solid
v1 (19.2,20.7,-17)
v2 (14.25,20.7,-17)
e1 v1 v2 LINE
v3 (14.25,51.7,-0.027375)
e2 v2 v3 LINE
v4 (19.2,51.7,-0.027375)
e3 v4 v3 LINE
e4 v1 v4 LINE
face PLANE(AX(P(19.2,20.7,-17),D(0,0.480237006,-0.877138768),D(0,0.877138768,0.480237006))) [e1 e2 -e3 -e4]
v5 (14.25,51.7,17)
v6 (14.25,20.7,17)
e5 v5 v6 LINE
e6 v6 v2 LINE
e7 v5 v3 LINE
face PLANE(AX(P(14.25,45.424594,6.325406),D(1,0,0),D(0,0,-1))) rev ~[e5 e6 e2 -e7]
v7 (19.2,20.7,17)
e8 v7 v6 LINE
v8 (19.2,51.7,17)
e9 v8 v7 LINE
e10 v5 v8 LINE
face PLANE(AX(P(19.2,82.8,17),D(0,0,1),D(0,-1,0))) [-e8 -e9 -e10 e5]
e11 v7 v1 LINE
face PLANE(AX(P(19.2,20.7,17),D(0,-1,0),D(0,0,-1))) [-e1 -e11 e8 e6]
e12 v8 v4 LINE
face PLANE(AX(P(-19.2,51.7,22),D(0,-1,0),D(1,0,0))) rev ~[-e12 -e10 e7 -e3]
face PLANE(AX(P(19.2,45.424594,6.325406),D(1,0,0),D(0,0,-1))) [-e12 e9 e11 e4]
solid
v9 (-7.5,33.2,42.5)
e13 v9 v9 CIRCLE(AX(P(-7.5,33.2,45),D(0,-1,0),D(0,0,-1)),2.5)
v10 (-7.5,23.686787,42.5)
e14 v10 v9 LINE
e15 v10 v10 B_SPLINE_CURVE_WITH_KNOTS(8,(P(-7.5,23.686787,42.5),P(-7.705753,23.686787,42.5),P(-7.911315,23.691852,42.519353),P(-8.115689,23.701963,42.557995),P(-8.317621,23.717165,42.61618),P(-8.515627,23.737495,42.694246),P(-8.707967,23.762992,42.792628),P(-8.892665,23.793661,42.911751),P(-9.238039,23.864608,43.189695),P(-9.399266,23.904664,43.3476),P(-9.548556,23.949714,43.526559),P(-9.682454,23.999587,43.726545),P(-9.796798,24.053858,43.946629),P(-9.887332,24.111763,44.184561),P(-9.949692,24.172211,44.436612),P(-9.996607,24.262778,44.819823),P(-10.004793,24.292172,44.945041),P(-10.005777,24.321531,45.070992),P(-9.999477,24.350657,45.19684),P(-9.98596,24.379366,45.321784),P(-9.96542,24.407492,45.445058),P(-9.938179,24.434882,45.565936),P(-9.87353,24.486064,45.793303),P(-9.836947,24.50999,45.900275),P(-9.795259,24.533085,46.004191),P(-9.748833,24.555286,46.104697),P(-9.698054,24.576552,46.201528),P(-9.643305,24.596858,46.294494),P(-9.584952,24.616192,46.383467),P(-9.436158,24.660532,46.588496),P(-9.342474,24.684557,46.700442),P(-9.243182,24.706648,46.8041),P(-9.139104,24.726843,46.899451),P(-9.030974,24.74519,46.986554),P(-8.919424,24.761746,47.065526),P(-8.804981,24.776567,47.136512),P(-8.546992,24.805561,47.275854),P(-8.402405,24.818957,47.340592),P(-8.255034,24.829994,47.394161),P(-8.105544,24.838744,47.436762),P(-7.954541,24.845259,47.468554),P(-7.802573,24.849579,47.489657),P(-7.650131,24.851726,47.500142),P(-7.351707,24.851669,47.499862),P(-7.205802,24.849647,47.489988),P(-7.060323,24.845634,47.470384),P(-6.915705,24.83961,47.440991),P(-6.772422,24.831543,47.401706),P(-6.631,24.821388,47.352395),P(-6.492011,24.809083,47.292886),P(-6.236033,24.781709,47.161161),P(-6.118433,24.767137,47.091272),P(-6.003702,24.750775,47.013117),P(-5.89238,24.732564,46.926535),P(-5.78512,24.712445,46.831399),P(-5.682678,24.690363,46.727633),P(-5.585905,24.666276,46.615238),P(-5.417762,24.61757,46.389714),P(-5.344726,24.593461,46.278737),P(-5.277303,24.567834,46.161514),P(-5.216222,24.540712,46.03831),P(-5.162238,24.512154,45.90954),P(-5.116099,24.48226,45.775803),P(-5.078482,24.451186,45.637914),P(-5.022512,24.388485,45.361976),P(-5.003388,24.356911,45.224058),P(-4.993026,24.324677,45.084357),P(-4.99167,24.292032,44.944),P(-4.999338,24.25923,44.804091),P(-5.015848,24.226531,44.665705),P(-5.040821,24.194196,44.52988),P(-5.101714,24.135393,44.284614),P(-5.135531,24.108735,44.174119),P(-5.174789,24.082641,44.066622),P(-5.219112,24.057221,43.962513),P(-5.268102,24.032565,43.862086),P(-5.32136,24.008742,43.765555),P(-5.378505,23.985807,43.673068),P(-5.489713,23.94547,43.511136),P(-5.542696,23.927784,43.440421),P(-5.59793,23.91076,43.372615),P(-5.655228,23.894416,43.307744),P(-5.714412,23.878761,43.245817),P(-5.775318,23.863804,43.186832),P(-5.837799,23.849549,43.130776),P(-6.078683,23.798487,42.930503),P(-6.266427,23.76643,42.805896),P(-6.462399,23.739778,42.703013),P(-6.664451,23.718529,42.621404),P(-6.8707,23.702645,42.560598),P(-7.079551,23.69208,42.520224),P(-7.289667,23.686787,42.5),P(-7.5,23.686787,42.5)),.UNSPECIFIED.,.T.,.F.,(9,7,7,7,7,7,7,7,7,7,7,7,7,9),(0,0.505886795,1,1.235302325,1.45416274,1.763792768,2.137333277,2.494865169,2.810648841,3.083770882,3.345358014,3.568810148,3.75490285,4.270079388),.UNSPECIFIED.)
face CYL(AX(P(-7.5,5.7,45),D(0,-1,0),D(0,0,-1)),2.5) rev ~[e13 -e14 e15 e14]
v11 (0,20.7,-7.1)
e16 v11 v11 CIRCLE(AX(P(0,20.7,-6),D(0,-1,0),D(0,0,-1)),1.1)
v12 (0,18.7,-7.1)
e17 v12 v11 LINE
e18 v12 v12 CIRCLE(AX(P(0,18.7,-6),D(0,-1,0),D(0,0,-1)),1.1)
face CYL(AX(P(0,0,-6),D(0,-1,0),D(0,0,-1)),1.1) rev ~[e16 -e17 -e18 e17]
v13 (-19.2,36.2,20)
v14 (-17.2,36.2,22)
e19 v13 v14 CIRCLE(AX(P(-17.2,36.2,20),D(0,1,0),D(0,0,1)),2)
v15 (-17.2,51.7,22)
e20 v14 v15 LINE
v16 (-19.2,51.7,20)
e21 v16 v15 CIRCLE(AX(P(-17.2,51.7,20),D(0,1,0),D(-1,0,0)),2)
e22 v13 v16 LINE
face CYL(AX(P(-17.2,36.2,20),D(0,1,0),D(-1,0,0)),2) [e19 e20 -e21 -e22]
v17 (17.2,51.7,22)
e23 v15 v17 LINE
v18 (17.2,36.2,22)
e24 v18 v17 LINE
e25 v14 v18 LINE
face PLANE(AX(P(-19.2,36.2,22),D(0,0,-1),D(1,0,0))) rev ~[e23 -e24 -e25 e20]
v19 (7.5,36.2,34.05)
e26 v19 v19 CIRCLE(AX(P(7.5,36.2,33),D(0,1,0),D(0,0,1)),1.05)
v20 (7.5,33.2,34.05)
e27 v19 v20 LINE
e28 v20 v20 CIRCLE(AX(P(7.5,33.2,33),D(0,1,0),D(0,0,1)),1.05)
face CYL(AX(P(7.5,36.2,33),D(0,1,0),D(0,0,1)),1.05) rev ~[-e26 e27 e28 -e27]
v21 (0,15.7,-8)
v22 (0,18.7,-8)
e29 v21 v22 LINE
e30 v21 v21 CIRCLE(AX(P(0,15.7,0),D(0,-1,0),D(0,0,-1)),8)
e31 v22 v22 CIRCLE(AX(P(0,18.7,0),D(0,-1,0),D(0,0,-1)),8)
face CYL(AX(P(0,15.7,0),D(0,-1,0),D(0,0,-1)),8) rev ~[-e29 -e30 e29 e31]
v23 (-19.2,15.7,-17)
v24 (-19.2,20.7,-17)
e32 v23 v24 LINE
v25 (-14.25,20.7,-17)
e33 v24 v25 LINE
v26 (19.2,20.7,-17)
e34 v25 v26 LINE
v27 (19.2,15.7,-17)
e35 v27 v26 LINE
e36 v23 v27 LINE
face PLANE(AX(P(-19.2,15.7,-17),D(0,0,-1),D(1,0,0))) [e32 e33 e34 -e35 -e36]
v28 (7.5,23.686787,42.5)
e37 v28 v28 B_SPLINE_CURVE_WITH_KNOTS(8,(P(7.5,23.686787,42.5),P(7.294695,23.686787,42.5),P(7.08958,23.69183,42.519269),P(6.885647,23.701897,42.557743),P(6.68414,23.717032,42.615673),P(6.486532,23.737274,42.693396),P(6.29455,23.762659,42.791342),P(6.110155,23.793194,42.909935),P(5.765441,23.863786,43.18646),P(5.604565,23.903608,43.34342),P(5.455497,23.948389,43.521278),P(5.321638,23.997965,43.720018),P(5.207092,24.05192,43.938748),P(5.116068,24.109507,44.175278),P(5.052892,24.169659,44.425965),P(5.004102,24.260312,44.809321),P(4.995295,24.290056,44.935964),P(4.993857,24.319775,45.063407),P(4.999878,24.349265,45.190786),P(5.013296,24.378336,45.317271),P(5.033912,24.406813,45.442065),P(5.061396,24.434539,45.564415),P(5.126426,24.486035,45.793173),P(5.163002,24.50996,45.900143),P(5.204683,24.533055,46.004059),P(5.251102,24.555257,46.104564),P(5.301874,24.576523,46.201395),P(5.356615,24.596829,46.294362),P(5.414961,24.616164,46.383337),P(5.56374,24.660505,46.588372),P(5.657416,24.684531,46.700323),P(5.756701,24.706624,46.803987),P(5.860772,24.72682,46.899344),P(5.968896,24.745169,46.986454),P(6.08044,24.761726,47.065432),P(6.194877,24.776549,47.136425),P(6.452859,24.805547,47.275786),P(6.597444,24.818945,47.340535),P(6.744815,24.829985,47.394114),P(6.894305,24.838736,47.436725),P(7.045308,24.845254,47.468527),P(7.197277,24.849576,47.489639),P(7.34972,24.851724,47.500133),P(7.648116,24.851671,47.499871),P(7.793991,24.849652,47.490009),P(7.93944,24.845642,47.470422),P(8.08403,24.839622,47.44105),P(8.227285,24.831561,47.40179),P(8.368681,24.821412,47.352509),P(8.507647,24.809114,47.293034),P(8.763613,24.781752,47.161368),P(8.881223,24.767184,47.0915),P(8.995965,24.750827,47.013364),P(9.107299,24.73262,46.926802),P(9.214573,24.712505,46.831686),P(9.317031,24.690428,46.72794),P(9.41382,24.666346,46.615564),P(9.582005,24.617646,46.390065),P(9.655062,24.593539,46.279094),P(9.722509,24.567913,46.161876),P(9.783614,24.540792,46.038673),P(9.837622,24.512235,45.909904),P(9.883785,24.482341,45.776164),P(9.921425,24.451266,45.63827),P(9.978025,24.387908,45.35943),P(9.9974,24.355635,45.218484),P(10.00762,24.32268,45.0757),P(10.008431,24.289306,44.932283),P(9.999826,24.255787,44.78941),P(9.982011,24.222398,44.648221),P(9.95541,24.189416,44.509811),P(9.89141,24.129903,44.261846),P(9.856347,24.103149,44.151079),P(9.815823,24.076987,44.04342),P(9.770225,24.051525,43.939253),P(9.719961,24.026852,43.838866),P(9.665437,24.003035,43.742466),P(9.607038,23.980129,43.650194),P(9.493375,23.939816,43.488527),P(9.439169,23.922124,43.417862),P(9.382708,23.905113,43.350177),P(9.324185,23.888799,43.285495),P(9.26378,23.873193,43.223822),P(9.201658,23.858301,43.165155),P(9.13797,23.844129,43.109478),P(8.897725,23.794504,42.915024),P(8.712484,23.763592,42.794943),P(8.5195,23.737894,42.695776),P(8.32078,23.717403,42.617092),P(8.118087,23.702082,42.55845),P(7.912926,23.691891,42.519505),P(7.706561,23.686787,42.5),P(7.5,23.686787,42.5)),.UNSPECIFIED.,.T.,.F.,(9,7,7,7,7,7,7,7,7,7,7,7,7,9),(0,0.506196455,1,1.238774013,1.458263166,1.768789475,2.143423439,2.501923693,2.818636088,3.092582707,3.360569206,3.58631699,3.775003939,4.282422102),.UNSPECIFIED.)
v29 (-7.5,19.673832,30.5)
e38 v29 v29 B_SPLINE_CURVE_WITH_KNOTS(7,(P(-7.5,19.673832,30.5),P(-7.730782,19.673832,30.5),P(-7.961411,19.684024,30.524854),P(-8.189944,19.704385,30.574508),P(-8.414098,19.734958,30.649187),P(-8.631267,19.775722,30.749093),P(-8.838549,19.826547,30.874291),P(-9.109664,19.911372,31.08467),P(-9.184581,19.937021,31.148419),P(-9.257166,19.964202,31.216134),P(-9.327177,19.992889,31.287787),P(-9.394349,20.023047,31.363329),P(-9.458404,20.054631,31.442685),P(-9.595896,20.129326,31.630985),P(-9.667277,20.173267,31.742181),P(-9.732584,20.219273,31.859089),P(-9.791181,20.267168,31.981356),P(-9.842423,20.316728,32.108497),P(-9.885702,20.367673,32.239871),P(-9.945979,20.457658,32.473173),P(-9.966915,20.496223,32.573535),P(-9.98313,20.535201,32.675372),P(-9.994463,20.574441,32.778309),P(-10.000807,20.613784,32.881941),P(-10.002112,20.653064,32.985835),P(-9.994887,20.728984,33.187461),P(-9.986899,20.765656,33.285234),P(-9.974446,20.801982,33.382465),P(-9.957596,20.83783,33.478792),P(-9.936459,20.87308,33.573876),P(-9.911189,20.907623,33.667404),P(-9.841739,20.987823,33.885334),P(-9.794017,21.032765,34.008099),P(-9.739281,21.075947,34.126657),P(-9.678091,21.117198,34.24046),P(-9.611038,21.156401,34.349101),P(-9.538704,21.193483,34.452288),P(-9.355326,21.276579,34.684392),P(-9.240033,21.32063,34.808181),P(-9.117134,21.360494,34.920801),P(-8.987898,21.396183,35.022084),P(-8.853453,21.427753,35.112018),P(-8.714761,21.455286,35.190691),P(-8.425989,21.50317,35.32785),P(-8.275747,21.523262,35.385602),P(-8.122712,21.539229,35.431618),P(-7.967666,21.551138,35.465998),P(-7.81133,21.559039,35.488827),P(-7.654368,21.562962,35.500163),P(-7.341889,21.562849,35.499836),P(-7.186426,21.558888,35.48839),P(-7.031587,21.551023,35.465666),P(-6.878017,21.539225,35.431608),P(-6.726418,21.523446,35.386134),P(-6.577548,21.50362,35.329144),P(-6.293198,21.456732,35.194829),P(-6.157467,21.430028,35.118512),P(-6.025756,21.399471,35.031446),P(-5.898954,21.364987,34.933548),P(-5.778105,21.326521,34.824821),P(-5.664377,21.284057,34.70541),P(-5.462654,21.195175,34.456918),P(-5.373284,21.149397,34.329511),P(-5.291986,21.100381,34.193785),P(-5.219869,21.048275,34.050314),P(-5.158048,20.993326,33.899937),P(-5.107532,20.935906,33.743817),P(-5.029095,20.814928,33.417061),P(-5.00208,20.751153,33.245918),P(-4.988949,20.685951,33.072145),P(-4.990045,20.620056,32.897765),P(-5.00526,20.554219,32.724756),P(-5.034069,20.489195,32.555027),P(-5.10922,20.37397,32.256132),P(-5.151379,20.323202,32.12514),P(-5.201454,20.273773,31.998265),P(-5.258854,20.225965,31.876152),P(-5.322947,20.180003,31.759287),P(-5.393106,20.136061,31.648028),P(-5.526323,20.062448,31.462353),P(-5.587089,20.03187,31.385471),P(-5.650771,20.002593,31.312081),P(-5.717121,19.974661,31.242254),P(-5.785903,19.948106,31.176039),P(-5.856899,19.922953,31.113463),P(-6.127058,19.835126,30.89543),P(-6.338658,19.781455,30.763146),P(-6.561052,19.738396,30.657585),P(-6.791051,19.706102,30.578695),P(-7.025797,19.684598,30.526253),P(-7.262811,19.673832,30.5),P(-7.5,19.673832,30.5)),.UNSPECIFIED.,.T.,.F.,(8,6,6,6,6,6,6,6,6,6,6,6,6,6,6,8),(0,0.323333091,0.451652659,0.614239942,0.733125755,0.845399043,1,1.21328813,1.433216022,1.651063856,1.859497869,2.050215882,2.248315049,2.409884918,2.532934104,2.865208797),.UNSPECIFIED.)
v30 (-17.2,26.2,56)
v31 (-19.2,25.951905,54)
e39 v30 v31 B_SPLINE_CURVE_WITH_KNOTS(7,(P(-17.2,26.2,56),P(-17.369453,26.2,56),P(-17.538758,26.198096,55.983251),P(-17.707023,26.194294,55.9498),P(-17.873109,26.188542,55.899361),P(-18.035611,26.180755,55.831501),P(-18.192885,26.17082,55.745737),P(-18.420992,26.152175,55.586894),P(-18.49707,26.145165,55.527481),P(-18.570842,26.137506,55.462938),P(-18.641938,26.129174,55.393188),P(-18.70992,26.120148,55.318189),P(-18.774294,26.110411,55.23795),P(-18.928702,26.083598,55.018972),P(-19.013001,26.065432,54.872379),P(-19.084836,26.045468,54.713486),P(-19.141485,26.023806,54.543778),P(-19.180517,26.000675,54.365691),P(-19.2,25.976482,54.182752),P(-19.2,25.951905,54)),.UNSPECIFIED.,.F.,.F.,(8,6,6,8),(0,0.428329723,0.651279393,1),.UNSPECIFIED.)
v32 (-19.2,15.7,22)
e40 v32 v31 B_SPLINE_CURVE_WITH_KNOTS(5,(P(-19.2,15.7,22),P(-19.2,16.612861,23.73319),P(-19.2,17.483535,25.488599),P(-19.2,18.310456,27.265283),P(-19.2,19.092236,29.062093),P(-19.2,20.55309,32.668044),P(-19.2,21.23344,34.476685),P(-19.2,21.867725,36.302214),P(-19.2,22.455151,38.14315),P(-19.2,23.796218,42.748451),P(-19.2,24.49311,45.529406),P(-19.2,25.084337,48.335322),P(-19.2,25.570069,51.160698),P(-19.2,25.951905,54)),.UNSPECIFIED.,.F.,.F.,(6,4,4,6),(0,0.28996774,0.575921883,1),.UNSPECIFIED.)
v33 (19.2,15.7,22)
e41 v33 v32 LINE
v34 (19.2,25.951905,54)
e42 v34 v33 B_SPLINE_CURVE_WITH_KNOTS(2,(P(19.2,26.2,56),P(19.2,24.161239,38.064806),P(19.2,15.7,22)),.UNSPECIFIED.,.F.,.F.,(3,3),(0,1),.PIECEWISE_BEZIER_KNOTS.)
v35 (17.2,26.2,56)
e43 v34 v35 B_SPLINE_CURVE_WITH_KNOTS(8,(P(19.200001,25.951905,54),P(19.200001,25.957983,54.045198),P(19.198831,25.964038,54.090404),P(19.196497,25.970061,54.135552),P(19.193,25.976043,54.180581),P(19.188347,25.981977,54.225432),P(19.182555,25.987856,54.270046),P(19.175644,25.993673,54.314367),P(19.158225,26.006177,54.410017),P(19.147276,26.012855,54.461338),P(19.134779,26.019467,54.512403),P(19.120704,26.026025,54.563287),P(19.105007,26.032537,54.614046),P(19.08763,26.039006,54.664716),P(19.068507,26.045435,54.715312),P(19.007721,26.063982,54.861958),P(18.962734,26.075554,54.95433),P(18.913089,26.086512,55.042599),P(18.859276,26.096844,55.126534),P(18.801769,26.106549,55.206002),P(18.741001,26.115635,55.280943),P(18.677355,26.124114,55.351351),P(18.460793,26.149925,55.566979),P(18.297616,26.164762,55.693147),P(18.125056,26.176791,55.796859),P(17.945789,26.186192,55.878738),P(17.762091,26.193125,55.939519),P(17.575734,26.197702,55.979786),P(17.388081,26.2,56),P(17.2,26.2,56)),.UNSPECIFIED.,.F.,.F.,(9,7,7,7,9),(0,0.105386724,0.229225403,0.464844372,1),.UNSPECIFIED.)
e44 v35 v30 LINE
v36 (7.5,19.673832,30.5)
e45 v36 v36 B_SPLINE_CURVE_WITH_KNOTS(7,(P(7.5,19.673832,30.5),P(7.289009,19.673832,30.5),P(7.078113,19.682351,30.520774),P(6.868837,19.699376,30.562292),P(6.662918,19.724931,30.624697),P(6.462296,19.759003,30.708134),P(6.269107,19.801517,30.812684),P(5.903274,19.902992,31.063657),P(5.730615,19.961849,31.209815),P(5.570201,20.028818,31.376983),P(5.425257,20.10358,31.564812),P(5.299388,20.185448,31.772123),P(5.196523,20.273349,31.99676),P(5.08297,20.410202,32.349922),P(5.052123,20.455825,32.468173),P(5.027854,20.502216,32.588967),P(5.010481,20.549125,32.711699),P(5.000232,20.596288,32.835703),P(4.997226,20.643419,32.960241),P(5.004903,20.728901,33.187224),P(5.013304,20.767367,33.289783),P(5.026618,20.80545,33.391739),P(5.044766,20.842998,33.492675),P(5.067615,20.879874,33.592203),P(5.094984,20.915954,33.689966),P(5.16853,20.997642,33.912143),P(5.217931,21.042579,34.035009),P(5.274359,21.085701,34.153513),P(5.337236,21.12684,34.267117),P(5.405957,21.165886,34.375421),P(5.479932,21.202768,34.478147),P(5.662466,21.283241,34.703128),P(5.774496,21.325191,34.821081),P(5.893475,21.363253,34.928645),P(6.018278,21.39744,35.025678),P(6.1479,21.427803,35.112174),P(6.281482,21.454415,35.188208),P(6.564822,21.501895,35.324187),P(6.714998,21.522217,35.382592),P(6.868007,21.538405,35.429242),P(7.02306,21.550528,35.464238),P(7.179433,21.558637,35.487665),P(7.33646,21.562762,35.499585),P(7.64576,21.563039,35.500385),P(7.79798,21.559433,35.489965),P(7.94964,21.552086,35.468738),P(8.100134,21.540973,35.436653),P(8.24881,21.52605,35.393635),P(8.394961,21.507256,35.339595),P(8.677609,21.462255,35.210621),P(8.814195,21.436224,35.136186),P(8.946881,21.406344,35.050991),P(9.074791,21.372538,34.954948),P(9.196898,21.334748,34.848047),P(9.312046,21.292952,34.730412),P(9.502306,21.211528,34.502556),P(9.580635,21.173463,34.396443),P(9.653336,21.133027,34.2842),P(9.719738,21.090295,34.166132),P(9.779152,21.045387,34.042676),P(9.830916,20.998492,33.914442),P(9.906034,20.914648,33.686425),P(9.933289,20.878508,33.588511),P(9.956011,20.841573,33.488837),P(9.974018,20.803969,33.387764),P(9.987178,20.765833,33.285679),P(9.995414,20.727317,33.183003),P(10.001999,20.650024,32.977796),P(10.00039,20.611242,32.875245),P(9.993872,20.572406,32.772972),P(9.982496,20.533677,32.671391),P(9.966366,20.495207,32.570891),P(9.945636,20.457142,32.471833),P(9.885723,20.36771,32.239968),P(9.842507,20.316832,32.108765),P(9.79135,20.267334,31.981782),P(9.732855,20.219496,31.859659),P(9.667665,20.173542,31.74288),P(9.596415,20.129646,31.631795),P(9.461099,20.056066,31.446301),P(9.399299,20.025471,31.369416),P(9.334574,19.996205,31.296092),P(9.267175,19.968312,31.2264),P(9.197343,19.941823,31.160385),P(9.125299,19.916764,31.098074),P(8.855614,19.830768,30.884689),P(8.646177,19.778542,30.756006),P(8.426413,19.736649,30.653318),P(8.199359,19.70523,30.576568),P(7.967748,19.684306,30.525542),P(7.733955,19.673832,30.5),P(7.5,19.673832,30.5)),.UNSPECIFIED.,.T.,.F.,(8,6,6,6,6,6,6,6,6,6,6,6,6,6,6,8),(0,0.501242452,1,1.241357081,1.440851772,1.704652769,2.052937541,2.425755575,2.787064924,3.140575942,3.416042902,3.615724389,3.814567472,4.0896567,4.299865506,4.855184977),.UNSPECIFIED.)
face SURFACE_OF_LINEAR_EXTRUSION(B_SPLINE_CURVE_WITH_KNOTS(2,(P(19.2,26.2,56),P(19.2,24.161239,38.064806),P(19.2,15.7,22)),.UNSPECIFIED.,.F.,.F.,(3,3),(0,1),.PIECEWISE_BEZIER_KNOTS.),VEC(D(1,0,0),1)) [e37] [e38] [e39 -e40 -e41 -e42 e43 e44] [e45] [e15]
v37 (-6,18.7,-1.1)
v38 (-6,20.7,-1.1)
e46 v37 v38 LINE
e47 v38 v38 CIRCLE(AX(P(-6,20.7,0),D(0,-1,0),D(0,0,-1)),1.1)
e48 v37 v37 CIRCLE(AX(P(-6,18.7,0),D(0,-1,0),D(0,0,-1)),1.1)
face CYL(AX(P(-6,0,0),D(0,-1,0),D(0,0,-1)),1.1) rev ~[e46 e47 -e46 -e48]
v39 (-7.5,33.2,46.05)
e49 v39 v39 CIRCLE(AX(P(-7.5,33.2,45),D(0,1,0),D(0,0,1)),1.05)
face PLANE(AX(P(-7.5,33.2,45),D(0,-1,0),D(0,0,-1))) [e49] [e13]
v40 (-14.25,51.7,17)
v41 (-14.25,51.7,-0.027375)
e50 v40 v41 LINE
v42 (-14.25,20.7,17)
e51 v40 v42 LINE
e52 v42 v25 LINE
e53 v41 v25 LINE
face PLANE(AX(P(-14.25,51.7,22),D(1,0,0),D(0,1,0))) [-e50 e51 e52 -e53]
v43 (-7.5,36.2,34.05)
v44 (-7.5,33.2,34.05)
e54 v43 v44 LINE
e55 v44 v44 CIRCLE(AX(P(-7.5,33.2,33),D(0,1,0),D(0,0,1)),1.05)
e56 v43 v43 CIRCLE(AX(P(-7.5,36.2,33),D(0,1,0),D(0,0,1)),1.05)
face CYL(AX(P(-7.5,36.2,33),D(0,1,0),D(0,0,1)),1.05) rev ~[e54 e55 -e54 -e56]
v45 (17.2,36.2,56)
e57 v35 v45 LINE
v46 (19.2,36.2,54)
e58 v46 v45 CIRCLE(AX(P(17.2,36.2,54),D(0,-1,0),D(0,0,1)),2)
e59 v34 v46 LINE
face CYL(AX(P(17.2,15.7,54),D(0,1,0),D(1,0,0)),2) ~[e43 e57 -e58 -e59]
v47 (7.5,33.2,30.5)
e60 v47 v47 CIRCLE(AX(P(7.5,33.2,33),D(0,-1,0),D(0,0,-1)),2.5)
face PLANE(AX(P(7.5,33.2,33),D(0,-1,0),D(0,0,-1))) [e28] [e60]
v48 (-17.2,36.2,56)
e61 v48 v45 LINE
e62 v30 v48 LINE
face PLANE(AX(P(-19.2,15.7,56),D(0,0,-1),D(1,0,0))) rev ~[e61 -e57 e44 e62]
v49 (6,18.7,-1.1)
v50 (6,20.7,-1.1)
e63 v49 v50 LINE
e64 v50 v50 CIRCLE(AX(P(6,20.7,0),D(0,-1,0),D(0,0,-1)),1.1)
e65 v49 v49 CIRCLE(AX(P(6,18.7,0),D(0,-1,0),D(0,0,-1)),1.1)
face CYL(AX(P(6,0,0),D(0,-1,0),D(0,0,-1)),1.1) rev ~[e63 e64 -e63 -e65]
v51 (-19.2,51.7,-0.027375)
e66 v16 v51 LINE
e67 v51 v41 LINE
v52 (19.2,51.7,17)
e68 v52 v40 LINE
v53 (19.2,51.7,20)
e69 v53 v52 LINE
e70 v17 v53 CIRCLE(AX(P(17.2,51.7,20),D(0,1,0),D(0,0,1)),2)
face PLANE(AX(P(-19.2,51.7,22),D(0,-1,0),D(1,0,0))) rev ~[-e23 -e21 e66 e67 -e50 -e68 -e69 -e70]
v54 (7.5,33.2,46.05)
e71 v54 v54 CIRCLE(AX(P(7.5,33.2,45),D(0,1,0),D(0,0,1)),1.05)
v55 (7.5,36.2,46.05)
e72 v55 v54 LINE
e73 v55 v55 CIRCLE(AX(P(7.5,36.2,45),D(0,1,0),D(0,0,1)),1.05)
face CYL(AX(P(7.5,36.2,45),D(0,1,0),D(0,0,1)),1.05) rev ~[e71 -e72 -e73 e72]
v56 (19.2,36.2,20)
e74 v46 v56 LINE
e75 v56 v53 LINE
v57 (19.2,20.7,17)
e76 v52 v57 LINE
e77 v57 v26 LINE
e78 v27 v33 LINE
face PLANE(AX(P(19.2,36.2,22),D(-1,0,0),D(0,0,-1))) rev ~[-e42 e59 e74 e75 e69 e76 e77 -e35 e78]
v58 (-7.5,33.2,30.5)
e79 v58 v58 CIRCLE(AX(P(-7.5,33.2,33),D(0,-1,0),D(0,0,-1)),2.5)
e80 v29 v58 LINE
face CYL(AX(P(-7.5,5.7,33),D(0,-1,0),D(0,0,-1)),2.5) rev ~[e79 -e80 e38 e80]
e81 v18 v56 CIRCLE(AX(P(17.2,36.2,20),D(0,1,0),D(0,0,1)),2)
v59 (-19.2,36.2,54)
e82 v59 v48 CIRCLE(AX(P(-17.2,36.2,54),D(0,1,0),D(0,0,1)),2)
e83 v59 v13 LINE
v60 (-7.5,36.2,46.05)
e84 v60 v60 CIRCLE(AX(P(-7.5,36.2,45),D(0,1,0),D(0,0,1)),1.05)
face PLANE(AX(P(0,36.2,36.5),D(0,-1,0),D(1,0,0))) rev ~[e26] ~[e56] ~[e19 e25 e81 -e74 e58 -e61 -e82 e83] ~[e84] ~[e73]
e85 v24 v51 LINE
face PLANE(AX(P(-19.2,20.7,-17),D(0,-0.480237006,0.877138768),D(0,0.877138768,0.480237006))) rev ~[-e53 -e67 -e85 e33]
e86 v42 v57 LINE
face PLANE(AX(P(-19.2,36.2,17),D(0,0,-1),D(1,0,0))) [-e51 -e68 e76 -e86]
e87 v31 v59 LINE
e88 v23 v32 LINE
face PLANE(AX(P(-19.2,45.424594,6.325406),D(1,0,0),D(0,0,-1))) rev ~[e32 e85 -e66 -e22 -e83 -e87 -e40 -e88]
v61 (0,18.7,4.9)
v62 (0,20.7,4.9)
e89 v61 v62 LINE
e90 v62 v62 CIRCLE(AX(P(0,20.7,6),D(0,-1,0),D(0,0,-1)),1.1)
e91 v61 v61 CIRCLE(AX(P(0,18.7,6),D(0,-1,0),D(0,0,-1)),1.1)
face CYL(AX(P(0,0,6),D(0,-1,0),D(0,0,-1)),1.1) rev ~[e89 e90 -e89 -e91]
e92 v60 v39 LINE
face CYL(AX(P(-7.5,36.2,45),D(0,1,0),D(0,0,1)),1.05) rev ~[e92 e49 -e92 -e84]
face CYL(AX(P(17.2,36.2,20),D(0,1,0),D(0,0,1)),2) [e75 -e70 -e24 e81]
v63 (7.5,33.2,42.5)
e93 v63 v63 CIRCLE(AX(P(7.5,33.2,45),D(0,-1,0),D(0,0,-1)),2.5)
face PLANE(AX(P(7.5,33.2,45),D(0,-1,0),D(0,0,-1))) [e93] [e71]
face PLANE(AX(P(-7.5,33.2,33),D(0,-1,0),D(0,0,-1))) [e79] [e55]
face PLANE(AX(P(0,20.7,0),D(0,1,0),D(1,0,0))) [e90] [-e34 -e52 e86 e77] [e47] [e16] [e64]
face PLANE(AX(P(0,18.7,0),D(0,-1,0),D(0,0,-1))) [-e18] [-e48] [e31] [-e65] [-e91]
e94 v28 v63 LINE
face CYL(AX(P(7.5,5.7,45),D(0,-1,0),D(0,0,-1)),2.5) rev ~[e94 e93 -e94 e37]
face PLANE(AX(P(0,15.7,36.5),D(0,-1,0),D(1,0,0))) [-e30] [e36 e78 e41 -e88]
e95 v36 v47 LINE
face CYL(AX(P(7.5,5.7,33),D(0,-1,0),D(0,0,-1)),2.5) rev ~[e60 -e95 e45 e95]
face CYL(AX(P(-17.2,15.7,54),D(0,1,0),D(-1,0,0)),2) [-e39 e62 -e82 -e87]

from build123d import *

# Parameters (mm, degrees)
SKETCH1_R           = 9.6
BOSS_EXTRUDE1_DEPTH = 15.7
SKETCH3_W           = 38.4
SKETCH3_H           = 34
BOSS_EXTRUDE2_DEPTH = 5
SKETCH2_R           = 1.1
CUT_EXTRUDE1_DEPTH  = 33.956486463
SKETCH7_W           = 38.4
SKETCH7_H           = 39
BOSS_EXTRUDE3_DEPTH = 20.5
SKETCH11_W          = 38.4
SKETCH11_H          = 5
BOSS_EXTRUDE7_DEPTH = 46.6
BOSS_EXTRUDE8_DEPTH = 4.95
BOSS_EXTRUDE9_DEPTH = 4.95
FILLET2_R           = 2
CUT_EXTRUDE5_DEPTH  = 108.081277542
SKETCH16_W          = 7
SKETCH16_H          = 13.8
CUT_EXTRUDE9_DEPTH  = 94.517271406
SKETCH18_R          = 1.05
CUT_EXTRUDE10_DEPTH = 76.34056044
SKETCH19_R          = 2.5
CUT_EXTRUDE11_DEPTH = 27.5
SKETCH20_W          = 39
SKETCH20_H          = 17.86072518
CUT_EXTRUDE12_DEPTH = 108.081277707
SKETCH21_R          = 8
CUT_EXTRUDE13_DEPTH = 3
FILLET3_R           = 2
SKETCH22_W          = 38.4
SKETCH22_H          = 31.1
CUT_EXTRUDE14_DEPTH = 94.517271406


with BuildPart() as part:
    # Sketch1 → Boss-Extrude1 (new body)
    with BuildSketch(Plane(origin=(0, 0, 0), x_dir=(1, 0, 0), z_dir=(0, 1, 0))):
        with Locations(Location((0, 0, 0), (0, 0, 270))):
            Circle(SKETCH1_R)
    extrude(amount=BOSS_EXTRUDE1_DEPTH)

    # Sketch3 → Boss-Extrude2 (add)
    with BuildSketch(Plane(origin=(0, 15.7, 0), x_dir=(1, 0, 0), z_dir=(0, 1, 0))):
        Rectangle(SKETCH3_W, SKETCH3_H)
    extrude(amount=BOSS_EXTRUDE2_DEPTH)

    # Sketch2 → Cut-Extrude1 (cut, through all)
    with BuildSketch(Plane(origin=(0, 0, 0), x_dir=(-1, 0, 0), z_dir=(0, -1, 0))):
        with Locations(Location((0, -6, 0), (0, 0, 90))):
            Circle(SKETCH2_R)
        with Locations(Location((0, 6, 0), (0, 0, 90))):
            Circle(SKETCH2_R)
        with Locations(Location((-6, 0, 0), (0, 0, 90))):
            Circle(SKETCH2_R)
        with Locations(Location((6, 0, 0), (0, 0, 90))):
            Circle(SKETCH2_R)
    extrude(amount=-CUT_EXTRUDE1_DEPTH, mode=Mode.SUBTRACT)

    # Sketch7 → Boss-Extrude3 (add)
    with BuildSketch(Plane.XZ.offset(-15.7)):
        with Locations((0, 36.5)):
            Rectangle(SKETCH7_W, SKETCH7_H)
    extrude(amount=-BOSS_EXTRUDE3_DEPTH)

    # Sketch11 → Boss-Extrude7 (add)
    with BuildSketch(Plane(origin=(0, 36.2, 0), x_dir=(1, 0, 0), z_dir=(0, 1, 0))):
        with Locations((0, -19.5)):
            Rectangle(SKETCH11_W, SKETCH11_H)
    extrude(amount=BOSS_EXTRUDE7_DEPTH)

    # Sketch13 → Boss-Extrude9 (add)
    with BuildSketch(Plane.ZY.offset(19.2)):
        Polygon((17, 82.8), (17, 20.7), (-17, 20.7), align=None)
    extrude(amount=-BOSS_EXTRUDE9_DEPTH)

    # Fillet2
    fillet2_edges = [part.edges().sort_by_distance(p)[0] for p in [
        (-19.2, 25.95, 56),
        (19.2, 25.95, 56),
    ]]
    fillet(fillet2_edges, radius=FILLET2_R)

    # Sketch15 → Cut-Extrude5 (cut, through all)
    with BuildSketch(Plane(origin=(19.2, 0, 0), x_dir=(0, 0, -1), z_dir=(1, 0, 0))):
        with BuildLine():
            Line((-56, 26.2), (-56, 15.7))
            Line((-56, 15.7), (-22, 15.7))
            add(Edge.make_bspline(
                [(-56, 26.2), (-38.064806405, 24.161238531), (-22, 15.7)],
                knots=[0, 0, 0, 1, 1, 1], degree=2))
        make_face()
    extrude(amount=-CUT_EXTRUDE5_DEPTH, mode=Mode.SUBTRACT)

    # Sketch16 → Cut-Extrude9 (cut, through all)
    with BuildSketch(Plane.XY.offset(22)):
        with Locations((-10.75, 58.6)):
            Rectangle(SKETCH16_W, SKETCH16_H)
        with Locations((10.75, 58.6)):
            Rectangle(SKETCH16_W, SKETCH16_H)
    extrude(amount=-CUT_EXTRUDE9_DEPTH, mode=Mode.SUBTRACT)

    # Sketch18 → Cut-Extrude10 (cut, through all)
    with BuildSketch(Plane(origin=(0, 36.2, 0), x_dir=(1, 0, 0), z_dir=(0, 1, 0))):
        with Locations(Location((-7.5, -33, 0), (0, 0, 270))):
            Circle(SKETCH18_R)
        with Locations(Location((-7.5, -45, 0), (0, 0, 270))):
            Circle(SKETCH18_R)
        with Locations(Location((7.5, -33, 0), (0, 0, 270))):
            Circle(SKETCH18_R)
        with Locations(Location((7.5, -45, 0), (0, 0, 270))):
            Circle(SKETCH18_R)
    extrude(amount=-CUT_EXTRUDE10_DEPTH, mode=Mode.SUBTRACT)

    # Sketch19 → Cut-Extrude11 (cut)
    with BuildSketch(Plane(origin=(0, 5.7, 0), x_dir=(-1, 0, 0), z_dir=(0, -1, 0))):
        with Locations(Location((-7.5, -33, 0), (0, 0, 90))):
            Circle(SKETCH19_R)
        with Locations(Location((7.5, -33, 0), (0, 0, 90))):
            Circle(SKETCH19_R)
        with Locations(Location((-7.5, -45, 0), (0, 0, 90))):
            Circle(SKETCH19_R)
        with Locations(Location((7.5, -45, 0), (0, 0, 90))):
            Circle(SKETCH19_R)
    extrude(amount=-CUT_EXTRUDE11_DEPTH, mode=Mode.SUBTRACT)

    # Sketch20 → Cut-Extrude12 (cut, through all)
    with BuildSketch(Plane(origin=(19.2, 0, 0), x_dir=(0, 0, -1), z_dir=(1, 0, 0))):
        with Locations((-2.5, 6.76963741)):
            Rectangle(SKETCH20_W, SKETCH20_H)
    extrude(amount=-CUT_EXTRUDE12_DEPTH, mode=Mode.SUBTRACT)

    # Sketch21 → Cut-Extrude13 (cut)
    with BuildSketch(Plane.XZ.offset(-15.7)):
        with Locations(Location((0, 0, 0), (0, 0, 270))):
            Circle(SKETCH21_R)
    extrude(amount=-CUT_EXTRUDE13_DEPTH, mode=Mode.SUBTRACT)

    # Fillet3
    fillet3_edges = [part.edges().sort_by_distance(p)[0] for p in [
        (-19.2, 59.5, 22),
        (19.2, 59.5, 22),
    ]]
    fillet(fillet3_edges, radius=FILLET3_R)


with BuildPart() as body_2:
    # Sketch12 → Boss-Extrude8 (new body)
    with BuildSketch(Plane(origin=(19.2, 0, 0), x_dir=(0, 0, -1), z_dir=(1, 0, 0))):
        Polygon((-17, 82.8), (-17, 20.7), (17, 20.7), align=None)
    extrude(amount=-BOSS_EXTRUDE8_DEPTH)


with BuildPart() as cut_extrude14_tool:
    # Sketch22 → Cut-Extrude14 (new, through all)
    with BuildSketch(Plane.XY.offset(22)):
        with Locations((0, 67.25)):
            Rectangle(SKETCH22_W, SKETCH22_H)
    extrude(amount=-CUT_EXTRUDE14_DEPTH)


with BuildPart() as part_1:
    add(part.part)

    # Cut-Extrude14: cut by cut_extrude14_tool
    add(cut_extrude14_tool.part, mode=Mode.SUBTRACT)


with BuildPart() as body_2_1:
    add(body_2.part)

    # Cut-Extrude14: cut by cut_extrude14_tool
    add(cut_extrude14_tool.part, mode=Mode.SUBTRACT)


solid = Compound([part_1.part, body_2_1.part])
